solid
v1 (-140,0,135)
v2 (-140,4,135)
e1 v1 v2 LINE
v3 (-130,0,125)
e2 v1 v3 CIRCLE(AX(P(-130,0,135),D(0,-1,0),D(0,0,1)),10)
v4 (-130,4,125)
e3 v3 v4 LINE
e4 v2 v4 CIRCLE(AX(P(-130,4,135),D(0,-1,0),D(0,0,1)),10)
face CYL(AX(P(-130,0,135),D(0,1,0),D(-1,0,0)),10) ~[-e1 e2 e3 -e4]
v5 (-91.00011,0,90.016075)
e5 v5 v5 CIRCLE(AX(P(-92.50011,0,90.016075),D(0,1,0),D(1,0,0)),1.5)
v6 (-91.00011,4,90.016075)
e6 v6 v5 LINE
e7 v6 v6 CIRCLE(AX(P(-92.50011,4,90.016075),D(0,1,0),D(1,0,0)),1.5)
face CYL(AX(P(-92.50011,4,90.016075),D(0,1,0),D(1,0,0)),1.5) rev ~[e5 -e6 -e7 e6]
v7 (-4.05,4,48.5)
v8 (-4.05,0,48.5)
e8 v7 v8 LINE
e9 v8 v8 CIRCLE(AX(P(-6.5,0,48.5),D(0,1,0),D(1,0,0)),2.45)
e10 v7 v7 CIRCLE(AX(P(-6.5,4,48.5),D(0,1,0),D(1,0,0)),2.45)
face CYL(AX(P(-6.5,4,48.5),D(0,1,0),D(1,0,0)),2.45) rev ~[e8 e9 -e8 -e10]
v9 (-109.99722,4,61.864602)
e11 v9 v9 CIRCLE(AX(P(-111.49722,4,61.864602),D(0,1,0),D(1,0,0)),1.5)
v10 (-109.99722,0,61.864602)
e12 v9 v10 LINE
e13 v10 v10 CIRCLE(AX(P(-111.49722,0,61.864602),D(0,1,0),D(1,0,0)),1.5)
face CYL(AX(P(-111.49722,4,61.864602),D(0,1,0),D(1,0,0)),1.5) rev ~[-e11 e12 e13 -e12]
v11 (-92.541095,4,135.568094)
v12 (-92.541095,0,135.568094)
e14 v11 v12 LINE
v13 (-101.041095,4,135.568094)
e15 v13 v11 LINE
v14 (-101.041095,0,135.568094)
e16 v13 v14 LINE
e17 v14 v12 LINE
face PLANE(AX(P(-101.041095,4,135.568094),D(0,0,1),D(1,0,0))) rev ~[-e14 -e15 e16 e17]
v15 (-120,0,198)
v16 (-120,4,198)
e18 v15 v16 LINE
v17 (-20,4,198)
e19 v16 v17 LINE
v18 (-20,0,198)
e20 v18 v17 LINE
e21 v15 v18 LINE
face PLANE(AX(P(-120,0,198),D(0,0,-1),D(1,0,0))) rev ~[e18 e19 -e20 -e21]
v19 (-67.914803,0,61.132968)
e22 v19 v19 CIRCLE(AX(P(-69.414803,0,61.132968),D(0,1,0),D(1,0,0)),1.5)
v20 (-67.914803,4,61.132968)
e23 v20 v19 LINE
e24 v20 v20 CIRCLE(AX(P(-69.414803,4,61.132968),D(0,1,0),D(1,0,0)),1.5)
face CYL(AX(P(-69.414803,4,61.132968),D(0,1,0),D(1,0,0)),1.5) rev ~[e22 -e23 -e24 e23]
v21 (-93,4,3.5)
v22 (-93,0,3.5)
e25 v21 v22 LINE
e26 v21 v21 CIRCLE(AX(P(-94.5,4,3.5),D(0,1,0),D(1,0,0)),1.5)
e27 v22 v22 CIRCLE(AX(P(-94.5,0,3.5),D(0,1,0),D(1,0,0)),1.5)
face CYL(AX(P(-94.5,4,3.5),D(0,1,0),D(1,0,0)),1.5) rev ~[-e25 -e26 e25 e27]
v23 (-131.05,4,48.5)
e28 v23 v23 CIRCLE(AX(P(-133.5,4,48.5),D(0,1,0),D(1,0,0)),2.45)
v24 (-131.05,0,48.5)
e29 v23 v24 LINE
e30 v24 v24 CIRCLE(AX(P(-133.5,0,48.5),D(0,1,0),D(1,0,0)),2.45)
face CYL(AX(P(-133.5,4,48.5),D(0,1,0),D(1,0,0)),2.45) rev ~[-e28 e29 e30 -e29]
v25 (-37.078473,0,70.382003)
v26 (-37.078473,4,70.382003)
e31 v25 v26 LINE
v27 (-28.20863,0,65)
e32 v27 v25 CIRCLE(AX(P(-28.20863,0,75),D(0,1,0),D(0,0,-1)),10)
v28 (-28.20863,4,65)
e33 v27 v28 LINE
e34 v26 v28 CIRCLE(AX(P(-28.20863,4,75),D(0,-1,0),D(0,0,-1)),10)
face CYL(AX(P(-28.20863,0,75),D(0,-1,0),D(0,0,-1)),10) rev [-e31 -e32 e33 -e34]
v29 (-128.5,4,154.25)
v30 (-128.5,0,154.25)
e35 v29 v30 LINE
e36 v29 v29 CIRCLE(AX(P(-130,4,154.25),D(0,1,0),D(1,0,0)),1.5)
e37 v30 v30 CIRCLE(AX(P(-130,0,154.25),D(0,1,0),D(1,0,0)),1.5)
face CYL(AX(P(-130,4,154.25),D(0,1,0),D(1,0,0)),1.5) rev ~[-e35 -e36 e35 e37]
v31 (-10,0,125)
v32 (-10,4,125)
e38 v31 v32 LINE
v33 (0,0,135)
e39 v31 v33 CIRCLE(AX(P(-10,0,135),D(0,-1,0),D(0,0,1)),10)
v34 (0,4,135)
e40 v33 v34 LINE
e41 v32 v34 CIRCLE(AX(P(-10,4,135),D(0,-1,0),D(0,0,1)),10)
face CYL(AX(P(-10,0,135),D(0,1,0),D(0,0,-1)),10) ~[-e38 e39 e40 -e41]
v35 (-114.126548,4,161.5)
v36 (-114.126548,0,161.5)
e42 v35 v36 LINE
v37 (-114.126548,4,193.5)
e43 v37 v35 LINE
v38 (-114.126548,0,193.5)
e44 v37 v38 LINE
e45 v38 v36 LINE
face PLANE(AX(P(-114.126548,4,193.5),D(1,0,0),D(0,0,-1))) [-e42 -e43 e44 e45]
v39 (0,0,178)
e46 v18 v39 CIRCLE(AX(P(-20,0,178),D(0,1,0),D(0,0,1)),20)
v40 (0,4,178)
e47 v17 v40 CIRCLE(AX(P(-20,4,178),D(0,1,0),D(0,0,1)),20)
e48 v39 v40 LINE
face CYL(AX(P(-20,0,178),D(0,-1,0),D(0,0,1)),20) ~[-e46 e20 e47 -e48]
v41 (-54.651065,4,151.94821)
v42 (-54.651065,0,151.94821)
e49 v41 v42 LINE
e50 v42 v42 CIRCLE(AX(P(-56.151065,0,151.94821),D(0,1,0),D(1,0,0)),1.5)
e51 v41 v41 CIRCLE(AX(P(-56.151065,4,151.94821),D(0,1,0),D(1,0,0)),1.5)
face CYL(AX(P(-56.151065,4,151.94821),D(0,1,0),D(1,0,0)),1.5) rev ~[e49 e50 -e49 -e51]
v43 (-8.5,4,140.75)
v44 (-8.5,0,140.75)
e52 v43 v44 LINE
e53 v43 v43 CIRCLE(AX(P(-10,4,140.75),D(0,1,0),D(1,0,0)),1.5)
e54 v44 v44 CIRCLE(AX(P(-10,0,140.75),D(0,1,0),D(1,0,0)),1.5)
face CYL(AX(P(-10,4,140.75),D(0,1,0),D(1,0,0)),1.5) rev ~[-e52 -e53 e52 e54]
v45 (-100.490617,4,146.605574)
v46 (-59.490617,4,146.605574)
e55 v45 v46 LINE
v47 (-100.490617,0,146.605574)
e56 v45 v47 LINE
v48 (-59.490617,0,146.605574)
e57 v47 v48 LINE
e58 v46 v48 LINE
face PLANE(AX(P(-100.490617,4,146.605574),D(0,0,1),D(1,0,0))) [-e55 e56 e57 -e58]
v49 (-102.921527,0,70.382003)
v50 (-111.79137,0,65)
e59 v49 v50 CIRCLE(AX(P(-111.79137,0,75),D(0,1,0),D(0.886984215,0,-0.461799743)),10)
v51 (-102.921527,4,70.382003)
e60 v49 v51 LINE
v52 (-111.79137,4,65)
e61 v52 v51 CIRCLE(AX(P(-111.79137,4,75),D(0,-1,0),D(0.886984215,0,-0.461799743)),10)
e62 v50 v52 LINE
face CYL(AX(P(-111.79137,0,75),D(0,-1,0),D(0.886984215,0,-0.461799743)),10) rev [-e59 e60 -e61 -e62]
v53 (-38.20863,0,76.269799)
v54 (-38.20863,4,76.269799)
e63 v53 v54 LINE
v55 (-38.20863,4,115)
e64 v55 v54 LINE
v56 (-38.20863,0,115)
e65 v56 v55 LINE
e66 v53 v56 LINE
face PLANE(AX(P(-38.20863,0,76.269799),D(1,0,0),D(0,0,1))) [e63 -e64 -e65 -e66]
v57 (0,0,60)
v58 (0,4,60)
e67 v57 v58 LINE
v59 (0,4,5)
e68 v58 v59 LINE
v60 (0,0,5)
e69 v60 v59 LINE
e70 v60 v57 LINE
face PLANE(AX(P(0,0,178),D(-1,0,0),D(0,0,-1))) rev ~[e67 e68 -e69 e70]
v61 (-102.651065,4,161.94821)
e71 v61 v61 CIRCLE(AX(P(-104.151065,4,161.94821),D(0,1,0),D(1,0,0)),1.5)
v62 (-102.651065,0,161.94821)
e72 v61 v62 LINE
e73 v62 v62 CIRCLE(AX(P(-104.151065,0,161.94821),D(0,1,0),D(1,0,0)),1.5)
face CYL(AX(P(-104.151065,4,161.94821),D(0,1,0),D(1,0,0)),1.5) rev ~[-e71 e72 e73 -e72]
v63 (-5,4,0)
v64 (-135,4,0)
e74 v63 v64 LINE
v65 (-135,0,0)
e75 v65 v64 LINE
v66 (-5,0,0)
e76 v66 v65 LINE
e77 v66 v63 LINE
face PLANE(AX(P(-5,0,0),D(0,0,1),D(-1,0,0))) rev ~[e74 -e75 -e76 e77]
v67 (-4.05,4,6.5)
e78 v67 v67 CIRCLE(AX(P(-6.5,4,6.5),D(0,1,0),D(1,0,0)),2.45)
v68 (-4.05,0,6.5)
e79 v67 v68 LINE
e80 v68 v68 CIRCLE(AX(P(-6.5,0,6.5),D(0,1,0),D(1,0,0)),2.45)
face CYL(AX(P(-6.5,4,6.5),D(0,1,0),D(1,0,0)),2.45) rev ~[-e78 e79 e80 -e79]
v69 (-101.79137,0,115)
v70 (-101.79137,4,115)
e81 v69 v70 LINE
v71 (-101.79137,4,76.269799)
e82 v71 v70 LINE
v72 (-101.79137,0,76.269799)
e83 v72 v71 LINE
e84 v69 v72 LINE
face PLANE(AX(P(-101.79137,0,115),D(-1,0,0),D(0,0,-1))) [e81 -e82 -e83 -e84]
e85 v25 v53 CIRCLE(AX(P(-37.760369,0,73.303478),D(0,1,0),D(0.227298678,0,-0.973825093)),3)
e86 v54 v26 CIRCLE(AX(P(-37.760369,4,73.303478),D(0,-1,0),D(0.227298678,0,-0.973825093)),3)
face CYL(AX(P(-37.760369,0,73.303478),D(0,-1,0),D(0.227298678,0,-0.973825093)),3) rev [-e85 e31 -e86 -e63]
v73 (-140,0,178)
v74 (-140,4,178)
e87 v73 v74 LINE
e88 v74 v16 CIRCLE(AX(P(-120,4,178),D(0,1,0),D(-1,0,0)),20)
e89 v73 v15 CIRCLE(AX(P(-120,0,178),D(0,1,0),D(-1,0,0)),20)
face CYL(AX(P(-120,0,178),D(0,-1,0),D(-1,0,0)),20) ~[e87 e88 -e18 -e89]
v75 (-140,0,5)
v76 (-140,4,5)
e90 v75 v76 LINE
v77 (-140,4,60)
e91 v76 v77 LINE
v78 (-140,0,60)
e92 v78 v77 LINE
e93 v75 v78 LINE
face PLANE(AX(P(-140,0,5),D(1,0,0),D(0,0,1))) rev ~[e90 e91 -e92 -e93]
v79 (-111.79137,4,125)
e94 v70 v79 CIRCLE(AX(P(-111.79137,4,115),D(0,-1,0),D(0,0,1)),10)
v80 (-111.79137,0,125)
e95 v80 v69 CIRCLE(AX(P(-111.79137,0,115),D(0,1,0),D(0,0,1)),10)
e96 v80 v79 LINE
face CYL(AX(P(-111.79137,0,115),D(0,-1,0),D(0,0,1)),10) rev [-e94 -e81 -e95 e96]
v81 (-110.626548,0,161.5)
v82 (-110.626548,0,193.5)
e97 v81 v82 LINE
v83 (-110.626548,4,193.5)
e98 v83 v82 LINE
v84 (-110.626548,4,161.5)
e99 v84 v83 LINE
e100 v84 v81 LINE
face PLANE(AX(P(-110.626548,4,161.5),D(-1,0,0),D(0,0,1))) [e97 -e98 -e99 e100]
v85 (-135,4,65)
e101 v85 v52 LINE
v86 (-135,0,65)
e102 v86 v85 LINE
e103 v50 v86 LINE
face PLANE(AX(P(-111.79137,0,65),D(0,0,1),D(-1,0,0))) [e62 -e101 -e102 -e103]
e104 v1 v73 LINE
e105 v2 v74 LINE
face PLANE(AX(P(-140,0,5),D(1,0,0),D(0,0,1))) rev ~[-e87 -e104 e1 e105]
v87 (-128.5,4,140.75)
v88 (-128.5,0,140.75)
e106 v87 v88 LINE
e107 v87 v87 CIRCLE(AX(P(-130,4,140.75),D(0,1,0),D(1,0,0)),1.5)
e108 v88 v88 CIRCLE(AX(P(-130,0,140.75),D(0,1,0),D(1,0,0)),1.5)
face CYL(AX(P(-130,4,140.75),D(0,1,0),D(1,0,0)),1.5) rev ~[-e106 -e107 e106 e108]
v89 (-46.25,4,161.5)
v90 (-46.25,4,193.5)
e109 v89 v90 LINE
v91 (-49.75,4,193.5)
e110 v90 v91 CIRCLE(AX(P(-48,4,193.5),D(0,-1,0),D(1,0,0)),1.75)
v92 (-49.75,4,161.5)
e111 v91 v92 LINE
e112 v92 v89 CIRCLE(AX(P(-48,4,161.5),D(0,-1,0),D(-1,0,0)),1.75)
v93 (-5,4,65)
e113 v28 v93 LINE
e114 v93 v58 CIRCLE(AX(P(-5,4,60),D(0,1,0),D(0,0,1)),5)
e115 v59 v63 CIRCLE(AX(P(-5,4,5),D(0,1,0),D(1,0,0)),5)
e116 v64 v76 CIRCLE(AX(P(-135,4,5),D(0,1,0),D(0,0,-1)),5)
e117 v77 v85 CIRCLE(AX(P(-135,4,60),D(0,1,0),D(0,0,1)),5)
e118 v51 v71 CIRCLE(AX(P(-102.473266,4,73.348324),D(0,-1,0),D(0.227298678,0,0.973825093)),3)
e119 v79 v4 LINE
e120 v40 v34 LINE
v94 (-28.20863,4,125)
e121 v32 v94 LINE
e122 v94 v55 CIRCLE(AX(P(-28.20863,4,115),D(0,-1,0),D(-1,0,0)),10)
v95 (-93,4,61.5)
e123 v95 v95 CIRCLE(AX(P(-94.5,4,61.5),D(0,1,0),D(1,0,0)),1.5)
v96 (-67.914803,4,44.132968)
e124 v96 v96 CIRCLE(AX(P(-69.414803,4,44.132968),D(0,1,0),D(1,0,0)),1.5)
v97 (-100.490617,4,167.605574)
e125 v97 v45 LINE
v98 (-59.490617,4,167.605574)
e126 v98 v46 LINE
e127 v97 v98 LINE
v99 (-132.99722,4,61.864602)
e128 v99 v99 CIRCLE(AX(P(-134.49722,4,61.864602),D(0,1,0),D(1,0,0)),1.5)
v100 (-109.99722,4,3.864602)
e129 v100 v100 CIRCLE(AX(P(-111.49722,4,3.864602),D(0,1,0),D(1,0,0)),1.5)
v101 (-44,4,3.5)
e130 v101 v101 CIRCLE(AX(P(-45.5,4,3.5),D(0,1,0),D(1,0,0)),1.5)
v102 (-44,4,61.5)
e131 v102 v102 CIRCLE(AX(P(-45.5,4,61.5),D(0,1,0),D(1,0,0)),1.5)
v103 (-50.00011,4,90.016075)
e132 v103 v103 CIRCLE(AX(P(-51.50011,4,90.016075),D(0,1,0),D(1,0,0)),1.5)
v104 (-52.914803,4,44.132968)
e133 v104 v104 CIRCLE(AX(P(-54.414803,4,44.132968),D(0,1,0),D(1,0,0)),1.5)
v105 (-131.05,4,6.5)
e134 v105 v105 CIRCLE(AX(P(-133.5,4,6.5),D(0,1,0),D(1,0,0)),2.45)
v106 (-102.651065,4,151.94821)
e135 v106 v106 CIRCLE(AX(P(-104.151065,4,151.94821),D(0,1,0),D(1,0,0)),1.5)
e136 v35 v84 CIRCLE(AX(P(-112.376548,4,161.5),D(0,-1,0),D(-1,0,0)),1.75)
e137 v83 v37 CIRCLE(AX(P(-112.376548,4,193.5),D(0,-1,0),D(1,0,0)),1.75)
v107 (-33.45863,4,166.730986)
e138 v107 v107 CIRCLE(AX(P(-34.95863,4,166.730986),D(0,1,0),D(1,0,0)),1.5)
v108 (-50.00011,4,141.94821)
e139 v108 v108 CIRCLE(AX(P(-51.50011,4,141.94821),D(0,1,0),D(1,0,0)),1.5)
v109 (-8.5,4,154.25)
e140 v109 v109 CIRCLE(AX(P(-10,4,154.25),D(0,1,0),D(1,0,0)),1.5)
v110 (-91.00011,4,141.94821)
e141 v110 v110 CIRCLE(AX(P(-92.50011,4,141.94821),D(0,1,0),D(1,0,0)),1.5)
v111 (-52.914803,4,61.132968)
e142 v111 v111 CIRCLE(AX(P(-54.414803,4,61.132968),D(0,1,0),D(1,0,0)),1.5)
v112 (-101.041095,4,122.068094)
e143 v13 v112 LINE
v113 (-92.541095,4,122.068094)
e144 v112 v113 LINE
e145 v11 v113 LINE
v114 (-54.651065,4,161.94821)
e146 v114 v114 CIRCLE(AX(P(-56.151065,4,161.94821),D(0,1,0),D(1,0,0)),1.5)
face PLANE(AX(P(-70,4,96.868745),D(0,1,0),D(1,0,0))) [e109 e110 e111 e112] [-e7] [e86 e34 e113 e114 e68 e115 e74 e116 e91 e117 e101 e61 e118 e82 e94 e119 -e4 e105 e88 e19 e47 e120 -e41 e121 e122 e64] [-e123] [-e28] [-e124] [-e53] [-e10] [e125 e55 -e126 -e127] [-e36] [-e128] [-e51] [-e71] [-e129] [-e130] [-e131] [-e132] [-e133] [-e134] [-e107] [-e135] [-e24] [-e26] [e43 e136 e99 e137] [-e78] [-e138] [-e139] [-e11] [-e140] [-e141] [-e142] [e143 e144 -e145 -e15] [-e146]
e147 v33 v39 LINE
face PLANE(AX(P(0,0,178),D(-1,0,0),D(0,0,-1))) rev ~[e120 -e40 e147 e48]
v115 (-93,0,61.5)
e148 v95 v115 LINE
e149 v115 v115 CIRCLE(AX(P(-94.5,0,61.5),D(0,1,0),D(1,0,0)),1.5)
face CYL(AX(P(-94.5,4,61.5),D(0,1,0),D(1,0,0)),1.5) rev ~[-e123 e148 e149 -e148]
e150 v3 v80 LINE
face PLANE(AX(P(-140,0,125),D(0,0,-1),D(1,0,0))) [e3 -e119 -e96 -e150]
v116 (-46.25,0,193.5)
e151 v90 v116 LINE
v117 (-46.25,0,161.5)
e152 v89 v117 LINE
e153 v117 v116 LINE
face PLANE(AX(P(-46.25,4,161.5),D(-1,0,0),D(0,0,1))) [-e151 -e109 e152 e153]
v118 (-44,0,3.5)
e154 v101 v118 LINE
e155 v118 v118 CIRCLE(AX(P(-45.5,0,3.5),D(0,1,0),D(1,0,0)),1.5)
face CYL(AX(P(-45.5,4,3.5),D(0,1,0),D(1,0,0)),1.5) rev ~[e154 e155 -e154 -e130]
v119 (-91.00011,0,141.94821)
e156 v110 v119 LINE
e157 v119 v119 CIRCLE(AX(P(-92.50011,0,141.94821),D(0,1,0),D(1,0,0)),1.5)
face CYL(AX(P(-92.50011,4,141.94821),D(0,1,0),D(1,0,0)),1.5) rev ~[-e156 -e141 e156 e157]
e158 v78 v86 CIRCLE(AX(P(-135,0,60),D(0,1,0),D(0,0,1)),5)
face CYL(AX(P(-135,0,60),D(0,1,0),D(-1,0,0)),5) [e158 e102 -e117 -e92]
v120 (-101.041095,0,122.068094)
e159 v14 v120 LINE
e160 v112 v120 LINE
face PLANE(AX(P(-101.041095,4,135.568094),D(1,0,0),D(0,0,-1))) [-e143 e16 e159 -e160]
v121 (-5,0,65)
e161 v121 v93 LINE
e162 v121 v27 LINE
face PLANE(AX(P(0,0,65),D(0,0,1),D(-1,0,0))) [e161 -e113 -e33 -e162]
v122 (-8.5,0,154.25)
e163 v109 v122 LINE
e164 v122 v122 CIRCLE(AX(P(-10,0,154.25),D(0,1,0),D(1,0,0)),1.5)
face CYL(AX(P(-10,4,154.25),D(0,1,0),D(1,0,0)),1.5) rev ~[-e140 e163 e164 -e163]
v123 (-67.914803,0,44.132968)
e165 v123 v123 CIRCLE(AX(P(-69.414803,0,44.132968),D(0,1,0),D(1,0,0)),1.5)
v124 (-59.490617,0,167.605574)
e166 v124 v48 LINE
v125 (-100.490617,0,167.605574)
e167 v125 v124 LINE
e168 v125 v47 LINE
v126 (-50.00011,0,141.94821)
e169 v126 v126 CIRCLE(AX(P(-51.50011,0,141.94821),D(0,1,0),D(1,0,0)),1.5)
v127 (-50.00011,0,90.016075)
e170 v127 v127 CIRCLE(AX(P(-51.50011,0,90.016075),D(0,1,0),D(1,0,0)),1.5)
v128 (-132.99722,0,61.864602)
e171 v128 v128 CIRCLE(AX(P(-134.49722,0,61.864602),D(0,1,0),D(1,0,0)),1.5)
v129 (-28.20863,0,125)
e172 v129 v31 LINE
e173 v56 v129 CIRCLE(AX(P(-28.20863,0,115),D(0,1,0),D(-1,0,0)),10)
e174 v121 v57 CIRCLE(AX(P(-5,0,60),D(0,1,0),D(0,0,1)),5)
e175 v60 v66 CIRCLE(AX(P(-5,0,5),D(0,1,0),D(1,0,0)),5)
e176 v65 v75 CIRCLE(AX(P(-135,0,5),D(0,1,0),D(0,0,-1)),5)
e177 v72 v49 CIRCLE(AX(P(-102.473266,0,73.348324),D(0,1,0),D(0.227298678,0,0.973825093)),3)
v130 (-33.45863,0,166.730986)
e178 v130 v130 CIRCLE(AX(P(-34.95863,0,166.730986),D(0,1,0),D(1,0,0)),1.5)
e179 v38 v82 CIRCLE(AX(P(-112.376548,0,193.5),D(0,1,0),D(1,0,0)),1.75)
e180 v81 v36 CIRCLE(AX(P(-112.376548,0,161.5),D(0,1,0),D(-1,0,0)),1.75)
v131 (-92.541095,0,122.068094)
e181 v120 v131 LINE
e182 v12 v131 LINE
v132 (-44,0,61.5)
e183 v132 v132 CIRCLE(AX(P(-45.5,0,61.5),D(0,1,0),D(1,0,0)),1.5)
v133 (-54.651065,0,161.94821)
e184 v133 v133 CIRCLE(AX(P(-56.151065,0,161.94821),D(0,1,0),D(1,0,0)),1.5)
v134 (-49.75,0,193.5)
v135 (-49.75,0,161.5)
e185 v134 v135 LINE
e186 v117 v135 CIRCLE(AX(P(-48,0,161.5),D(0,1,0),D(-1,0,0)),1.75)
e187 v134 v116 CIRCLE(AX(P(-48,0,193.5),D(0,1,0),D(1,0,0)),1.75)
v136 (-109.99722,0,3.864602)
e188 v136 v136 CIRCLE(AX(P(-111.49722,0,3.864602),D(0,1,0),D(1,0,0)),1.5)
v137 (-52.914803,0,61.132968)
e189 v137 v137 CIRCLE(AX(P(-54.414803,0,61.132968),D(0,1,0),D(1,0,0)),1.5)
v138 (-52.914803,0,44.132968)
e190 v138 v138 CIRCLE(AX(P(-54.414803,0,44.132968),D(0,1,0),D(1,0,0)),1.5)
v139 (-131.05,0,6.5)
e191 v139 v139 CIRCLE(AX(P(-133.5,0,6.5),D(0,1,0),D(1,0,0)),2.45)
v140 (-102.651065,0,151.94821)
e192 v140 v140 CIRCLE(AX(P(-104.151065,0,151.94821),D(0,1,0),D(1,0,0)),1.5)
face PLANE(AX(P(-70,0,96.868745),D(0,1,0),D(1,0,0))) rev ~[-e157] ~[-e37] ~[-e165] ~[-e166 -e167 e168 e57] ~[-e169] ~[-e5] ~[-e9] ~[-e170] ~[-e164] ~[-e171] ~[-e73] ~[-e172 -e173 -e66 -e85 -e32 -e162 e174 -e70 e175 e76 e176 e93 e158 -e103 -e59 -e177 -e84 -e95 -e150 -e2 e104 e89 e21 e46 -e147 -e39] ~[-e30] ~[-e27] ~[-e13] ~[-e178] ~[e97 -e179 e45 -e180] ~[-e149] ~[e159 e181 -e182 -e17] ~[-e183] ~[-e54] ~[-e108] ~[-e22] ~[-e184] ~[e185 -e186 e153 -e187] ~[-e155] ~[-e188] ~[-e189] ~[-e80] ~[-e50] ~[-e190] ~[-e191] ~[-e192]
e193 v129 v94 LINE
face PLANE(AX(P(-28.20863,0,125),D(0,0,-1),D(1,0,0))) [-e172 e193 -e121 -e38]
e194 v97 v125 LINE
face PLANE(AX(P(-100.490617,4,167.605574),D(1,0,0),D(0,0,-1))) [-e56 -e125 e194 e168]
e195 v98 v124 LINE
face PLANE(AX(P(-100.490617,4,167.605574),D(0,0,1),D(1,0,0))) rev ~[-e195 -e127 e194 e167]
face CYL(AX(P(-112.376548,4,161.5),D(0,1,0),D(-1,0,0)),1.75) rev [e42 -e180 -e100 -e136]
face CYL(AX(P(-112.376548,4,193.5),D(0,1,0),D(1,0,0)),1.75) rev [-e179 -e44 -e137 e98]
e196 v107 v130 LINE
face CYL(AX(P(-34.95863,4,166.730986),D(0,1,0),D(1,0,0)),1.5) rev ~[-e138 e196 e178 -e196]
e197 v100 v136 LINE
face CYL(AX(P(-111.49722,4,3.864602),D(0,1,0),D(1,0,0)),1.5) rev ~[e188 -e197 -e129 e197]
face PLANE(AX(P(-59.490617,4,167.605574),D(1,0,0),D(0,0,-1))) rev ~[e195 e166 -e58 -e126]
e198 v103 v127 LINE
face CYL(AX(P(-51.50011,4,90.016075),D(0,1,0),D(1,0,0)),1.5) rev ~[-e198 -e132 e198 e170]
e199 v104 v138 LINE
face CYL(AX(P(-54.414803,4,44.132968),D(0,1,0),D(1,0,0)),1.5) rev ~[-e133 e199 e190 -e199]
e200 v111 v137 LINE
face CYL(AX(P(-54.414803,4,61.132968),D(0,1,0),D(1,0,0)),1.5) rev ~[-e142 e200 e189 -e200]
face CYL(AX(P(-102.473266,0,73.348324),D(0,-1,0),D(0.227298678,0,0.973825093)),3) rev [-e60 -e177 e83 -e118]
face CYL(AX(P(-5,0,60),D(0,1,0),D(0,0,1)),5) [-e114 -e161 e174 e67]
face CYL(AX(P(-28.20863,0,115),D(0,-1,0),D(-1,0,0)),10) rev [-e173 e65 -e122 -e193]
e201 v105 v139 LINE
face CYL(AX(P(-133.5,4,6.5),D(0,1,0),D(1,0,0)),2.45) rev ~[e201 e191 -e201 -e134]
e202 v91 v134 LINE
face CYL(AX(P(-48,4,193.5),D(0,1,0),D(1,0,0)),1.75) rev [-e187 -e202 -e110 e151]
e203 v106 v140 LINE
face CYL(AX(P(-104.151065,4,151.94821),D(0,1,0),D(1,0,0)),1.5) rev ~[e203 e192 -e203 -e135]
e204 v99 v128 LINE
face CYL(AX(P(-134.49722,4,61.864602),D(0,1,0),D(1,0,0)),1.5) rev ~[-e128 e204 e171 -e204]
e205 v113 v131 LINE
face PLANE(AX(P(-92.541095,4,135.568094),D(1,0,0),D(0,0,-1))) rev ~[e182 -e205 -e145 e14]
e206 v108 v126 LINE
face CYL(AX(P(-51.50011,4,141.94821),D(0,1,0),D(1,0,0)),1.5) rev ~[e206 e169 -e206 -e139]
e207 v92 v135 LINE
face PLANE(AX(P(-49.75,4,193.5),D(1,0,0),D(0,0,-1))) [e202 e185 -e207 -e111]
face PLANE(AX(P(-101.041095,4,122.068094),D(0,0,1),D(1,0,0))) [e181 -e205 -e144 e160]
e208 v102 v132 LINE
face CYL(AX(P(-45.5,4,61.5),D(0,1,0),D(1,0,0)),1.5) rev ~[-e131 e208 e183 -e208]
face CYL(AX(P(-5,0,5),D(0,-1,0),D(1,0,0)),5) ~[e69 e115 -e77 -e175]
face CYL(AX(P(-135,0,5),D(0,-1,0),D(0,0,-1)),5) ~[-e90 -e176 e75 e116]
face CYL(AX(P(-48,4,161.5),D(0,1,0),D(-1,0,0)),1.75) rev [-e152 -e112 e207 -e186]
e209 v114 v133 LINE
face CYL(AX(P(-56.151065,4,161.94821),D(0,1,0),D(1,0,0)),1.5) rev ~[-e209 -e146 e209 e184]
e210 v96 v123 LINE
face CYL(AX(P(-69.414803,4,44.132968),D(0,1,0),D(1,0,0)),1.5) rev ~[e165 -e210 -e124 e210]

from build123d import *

# Parameters (mm, degrees)
BOSS_EXTRUDE1_DEPTH     = 4
SKETCH2_R               = 2.45
SKETCH2_R_2             = 1.5
SKETCH2_W               = 41
SKETCH2_H               = 21
SKETCH2_W_2             = 8.5
SKETCH2_H_2             = 13.5
CUT_EXTRUDE1_DEPTH      = 1
CUT_EXTRUDE1_DEPTH_BACK = 5
CUT_EXTRUDE2_DEPTH      = 1
CUT_EXTRUDE2_DEPTH_BACK = 5
FILLET1_R               = 10
FILLET2_R               = 5


with BuildPart() as part:
    # Sketch1 → Boss-Extrude1 (new body)
    with BuildSketch(Plane(origin=(0, 0, 0), x_dir=(1, 0, 0), z_dir=(0, 1, 0))):
        with BuildLine():
            Line((-120, 0), (-135, 0))
            ThreePointArc((-135, 0), (-138.535533906, -1.464466094), (-140, -5))
            Line((-140, -5), (-140, -20))
            Line((-140, -20), (-140, -178))
            ThreePointArc((-140, -178), (-134.142135624, -192.142135624), (-120, -198))
            Line((-120, -198), (-20, -198))
            ThreePointArc((-20, -198), (-5.857864376, -192.142135624), (0, -178))
            Line((0, -178), (0, -20))
            Line((0, -20), (0, -5))
            ThreePointArc((0, -5), (-1.464466094, -1.464466094), (-5, 0))
            Line((-5, 0), (-20, 0))
            Line((-20, 0), (-120, 0))
        make_face()
    extrude(amount=BOSS_EXTRUDE1_DEPTH)

    # Sketch2 → Cut-Extrude1 (cut, two sides)
    with BuildSketch(Plane(origin=(0, 4, 0), x_dir=(1, 0, 0), z_dir=(0, 1, 0))) as cut_extrude1_sk:
        with Locations((-6.5, -6.5)):
            Circle(SKETCH2_R)
        with Locations((-6.5, -48.5)):
            Circle(SKETCH2_R)
        with Locations((-133.5, -48.5)):
            Circle(SKETCH2_R)
        with Locations((-133.5, -6.5)):
            Circle(SKETCH2_R)
        with Locations((-130, -140.75)):
            Circle(SKETCH2_R_2)
        with Locations((-130, -154.25)):
            Circle(SKETCH2_R_2)
        with Locations((-10, -154.25)):
            Circle(SKETCH2_R_2)
        with Locations((-10, -140.75)):
            Circle(SKETCH2_R_2)
        with Locations((-69.414803196, -44.13296789)):
            Circle(SKETCH2_R_2)
        with Locations((-104.151064992, -151.948209631)):
            Circle(SKETCH2_R_2)
        with Locations((-104.151064992, -161.948209631)):
            Circle(SKETCH2_R_2)
        with Locations((-56.151064992, -161.948209631)):
            Circle(SKETCH2_R_2)
        with Locations((-54.414803196, -44.13296789)):
            Circle(SKETCH2_R_2)
        with Locations((-54.414803196, -61.13296789)):
            Circle(SKETCH2_R_2)
        with Locations((-69.414803196, -61.13296789)):
            Circle(SKETCH2_R_2)
        with Locations((-51.500110177, -90.016074618)):
            Circle(SKETCH2_R_2)
        with Locations((-51.500110177, -141.948209631)):
            Circle(SKETCH2_R_2)
        with Locations((-56.151064992, -151.948209631)):
            Circle(SKETCH2_R_2)
        with Locations((-92.500110177, -141.948209631)):
            Circle(SKETCH2_R_2)
        with Locations((-92.500110177, -90.016074618)):
            Circle(SKETCH2_R_2)
        with Locations((-45.5, -61.5)):
            Circle(SKETCH2_R_2)
        with Locations((-45.5, -3.5)):
            Circle(SKETCH2_R_2)
        with Locations((-94.5, -3.5)):
            Circle(SKETCH2_R_2)
        with Locations((-94.5, -61.5)):
            Circle(SKETCH2_R_2)
        with Locations((-111.497219826, -3.864602307)):
            Circle(SKETCH2_R_2)
        with Locations((-111.497219826, -61.864602307)):
            Circle(SKETCH2_R_2)
        with Locations((-134.497219826, -61.864602307)):
            Circle(SKETCH2_R_2)
        with Locations((-34.958630408, -166.730986033)):
            Circle(SKETCH2_R_2)
        with BuildLine():
            Line((-110.626547642, -161.5), (-110.626547642, -193.5))
            ThreePointArc((-110.626547642, -193.5), (-112.376547642, -195.25), (-114.126547642, -193.5))
            Line((-114.126547642, -193.5), (-114.126547642, -161.5))
            ThreePointArc((-114.126547642, -161.5), (-112.376547642, -159.75), (-110.626547642, -161.5))
        make_face()
        with Locations((-79.990616651, -157.105574446)):
            Rectangle(SKETCH2_W, SKETCH2_H)
        with Locations((-96.791094648, -128.818094274)):
            Rectangle(SKETCH2_W_2, SKETCH2_H_2)
        with BuildLine():
            Line((-46.25, -161.5), (-46.25, -193.5))
            ThreePointArc((-46.25, -193.5), (-48, -195.25), (-49.75, -193.5))
            Line((-49.75, -193.5), (-49.75, -161.5))
            ThreePointArc((-49.75, -161.5), (-48, -159.75), (-46.25, -161.5))
        make_face()
    extrude(amount=CUT_EXTRUDE1_DEPTH, mode=Mode.SUBTRACT)
    extrude(cut_extrude1_sk.sketch, amount=-CUT_EXTRUDE1_DEPTH_BACK, mode=Mode.SUBTRACT)

    # Sketch3 → Cut-Extrude2 (cut, two sides)
    with BuildSketch(Plane(origin=(0, 0, 0), x_dir=(-1, 0, 0), z_dir=(0, -1, 0))) as cut_extrude2_sk:
        with BuildLine():
            Line((0, -65), (28.208630408, -65))
            ThreePointArc((28.208630408, -65), (33.396116586, -66.450731777), (37.078472556, -70.382002569))
            ThreePointArc((37.078472556, -70.382002569), (40.706583622, -72.737954213), (38.208630408, -76.269799027))
            Line((38.208630408, -76.269799027), (38.208630408, -115))
            ThreePointArc((38.208630408, -115), (35.27969822, -122.071067812), (28.208630408, -125))
            Line((28.208630408, -125), (0, -125))
            Line((0, -125), (0, -65))
        make_face()
        with BuildLine():
            Line((140, -65), (140, -125))
            Line((140, -125), (111.791369592, -125))
            ThreePointArc((111.791369592, -125), (104.72030178, -122.071067812), (101.791369592, -115))
            Line((101.791369592, -115), (101.791369592, -76.269799027))
            ThreePointArc((101.791369592, -76.269799027), (99.527050592, -72.782800115), (102.921527444, -70.382002569))
            ThreePointArc((102.921527444, -70.382002569), (106.603883414, -66.450731777), (111.791369592, -65))
            Line((111.791369592, -65), (140, -65))
        make_face()
    extrude(amount=CUT_EXTRUDE2_DEPTH, mode=Mode.SUBTRACT)
    extrude(cut_extrude2_sk.sketch, amount=-CUT_EXTRUDE2_DEPTH_BACK, mode=Mode.SUBTRACT)

    # Fillet1
    fillet1_edges = [part.edges().sort_by_distance(p)[0] for p in [
        (0, 2, 125),
        (-140, 2, 125),
    ]]
    fillet(fillet1_edges, radius=FILLET1_R)

    # Fillet2
    fillet2_edges = [part.edges().sort_by_distance(p)[0] for p in [
        (-140, 2, 65),
        (0, 2, 65),
    ]]
    fillet(fillet2_edges, radius=FILLET2_R)


solid = part.part
